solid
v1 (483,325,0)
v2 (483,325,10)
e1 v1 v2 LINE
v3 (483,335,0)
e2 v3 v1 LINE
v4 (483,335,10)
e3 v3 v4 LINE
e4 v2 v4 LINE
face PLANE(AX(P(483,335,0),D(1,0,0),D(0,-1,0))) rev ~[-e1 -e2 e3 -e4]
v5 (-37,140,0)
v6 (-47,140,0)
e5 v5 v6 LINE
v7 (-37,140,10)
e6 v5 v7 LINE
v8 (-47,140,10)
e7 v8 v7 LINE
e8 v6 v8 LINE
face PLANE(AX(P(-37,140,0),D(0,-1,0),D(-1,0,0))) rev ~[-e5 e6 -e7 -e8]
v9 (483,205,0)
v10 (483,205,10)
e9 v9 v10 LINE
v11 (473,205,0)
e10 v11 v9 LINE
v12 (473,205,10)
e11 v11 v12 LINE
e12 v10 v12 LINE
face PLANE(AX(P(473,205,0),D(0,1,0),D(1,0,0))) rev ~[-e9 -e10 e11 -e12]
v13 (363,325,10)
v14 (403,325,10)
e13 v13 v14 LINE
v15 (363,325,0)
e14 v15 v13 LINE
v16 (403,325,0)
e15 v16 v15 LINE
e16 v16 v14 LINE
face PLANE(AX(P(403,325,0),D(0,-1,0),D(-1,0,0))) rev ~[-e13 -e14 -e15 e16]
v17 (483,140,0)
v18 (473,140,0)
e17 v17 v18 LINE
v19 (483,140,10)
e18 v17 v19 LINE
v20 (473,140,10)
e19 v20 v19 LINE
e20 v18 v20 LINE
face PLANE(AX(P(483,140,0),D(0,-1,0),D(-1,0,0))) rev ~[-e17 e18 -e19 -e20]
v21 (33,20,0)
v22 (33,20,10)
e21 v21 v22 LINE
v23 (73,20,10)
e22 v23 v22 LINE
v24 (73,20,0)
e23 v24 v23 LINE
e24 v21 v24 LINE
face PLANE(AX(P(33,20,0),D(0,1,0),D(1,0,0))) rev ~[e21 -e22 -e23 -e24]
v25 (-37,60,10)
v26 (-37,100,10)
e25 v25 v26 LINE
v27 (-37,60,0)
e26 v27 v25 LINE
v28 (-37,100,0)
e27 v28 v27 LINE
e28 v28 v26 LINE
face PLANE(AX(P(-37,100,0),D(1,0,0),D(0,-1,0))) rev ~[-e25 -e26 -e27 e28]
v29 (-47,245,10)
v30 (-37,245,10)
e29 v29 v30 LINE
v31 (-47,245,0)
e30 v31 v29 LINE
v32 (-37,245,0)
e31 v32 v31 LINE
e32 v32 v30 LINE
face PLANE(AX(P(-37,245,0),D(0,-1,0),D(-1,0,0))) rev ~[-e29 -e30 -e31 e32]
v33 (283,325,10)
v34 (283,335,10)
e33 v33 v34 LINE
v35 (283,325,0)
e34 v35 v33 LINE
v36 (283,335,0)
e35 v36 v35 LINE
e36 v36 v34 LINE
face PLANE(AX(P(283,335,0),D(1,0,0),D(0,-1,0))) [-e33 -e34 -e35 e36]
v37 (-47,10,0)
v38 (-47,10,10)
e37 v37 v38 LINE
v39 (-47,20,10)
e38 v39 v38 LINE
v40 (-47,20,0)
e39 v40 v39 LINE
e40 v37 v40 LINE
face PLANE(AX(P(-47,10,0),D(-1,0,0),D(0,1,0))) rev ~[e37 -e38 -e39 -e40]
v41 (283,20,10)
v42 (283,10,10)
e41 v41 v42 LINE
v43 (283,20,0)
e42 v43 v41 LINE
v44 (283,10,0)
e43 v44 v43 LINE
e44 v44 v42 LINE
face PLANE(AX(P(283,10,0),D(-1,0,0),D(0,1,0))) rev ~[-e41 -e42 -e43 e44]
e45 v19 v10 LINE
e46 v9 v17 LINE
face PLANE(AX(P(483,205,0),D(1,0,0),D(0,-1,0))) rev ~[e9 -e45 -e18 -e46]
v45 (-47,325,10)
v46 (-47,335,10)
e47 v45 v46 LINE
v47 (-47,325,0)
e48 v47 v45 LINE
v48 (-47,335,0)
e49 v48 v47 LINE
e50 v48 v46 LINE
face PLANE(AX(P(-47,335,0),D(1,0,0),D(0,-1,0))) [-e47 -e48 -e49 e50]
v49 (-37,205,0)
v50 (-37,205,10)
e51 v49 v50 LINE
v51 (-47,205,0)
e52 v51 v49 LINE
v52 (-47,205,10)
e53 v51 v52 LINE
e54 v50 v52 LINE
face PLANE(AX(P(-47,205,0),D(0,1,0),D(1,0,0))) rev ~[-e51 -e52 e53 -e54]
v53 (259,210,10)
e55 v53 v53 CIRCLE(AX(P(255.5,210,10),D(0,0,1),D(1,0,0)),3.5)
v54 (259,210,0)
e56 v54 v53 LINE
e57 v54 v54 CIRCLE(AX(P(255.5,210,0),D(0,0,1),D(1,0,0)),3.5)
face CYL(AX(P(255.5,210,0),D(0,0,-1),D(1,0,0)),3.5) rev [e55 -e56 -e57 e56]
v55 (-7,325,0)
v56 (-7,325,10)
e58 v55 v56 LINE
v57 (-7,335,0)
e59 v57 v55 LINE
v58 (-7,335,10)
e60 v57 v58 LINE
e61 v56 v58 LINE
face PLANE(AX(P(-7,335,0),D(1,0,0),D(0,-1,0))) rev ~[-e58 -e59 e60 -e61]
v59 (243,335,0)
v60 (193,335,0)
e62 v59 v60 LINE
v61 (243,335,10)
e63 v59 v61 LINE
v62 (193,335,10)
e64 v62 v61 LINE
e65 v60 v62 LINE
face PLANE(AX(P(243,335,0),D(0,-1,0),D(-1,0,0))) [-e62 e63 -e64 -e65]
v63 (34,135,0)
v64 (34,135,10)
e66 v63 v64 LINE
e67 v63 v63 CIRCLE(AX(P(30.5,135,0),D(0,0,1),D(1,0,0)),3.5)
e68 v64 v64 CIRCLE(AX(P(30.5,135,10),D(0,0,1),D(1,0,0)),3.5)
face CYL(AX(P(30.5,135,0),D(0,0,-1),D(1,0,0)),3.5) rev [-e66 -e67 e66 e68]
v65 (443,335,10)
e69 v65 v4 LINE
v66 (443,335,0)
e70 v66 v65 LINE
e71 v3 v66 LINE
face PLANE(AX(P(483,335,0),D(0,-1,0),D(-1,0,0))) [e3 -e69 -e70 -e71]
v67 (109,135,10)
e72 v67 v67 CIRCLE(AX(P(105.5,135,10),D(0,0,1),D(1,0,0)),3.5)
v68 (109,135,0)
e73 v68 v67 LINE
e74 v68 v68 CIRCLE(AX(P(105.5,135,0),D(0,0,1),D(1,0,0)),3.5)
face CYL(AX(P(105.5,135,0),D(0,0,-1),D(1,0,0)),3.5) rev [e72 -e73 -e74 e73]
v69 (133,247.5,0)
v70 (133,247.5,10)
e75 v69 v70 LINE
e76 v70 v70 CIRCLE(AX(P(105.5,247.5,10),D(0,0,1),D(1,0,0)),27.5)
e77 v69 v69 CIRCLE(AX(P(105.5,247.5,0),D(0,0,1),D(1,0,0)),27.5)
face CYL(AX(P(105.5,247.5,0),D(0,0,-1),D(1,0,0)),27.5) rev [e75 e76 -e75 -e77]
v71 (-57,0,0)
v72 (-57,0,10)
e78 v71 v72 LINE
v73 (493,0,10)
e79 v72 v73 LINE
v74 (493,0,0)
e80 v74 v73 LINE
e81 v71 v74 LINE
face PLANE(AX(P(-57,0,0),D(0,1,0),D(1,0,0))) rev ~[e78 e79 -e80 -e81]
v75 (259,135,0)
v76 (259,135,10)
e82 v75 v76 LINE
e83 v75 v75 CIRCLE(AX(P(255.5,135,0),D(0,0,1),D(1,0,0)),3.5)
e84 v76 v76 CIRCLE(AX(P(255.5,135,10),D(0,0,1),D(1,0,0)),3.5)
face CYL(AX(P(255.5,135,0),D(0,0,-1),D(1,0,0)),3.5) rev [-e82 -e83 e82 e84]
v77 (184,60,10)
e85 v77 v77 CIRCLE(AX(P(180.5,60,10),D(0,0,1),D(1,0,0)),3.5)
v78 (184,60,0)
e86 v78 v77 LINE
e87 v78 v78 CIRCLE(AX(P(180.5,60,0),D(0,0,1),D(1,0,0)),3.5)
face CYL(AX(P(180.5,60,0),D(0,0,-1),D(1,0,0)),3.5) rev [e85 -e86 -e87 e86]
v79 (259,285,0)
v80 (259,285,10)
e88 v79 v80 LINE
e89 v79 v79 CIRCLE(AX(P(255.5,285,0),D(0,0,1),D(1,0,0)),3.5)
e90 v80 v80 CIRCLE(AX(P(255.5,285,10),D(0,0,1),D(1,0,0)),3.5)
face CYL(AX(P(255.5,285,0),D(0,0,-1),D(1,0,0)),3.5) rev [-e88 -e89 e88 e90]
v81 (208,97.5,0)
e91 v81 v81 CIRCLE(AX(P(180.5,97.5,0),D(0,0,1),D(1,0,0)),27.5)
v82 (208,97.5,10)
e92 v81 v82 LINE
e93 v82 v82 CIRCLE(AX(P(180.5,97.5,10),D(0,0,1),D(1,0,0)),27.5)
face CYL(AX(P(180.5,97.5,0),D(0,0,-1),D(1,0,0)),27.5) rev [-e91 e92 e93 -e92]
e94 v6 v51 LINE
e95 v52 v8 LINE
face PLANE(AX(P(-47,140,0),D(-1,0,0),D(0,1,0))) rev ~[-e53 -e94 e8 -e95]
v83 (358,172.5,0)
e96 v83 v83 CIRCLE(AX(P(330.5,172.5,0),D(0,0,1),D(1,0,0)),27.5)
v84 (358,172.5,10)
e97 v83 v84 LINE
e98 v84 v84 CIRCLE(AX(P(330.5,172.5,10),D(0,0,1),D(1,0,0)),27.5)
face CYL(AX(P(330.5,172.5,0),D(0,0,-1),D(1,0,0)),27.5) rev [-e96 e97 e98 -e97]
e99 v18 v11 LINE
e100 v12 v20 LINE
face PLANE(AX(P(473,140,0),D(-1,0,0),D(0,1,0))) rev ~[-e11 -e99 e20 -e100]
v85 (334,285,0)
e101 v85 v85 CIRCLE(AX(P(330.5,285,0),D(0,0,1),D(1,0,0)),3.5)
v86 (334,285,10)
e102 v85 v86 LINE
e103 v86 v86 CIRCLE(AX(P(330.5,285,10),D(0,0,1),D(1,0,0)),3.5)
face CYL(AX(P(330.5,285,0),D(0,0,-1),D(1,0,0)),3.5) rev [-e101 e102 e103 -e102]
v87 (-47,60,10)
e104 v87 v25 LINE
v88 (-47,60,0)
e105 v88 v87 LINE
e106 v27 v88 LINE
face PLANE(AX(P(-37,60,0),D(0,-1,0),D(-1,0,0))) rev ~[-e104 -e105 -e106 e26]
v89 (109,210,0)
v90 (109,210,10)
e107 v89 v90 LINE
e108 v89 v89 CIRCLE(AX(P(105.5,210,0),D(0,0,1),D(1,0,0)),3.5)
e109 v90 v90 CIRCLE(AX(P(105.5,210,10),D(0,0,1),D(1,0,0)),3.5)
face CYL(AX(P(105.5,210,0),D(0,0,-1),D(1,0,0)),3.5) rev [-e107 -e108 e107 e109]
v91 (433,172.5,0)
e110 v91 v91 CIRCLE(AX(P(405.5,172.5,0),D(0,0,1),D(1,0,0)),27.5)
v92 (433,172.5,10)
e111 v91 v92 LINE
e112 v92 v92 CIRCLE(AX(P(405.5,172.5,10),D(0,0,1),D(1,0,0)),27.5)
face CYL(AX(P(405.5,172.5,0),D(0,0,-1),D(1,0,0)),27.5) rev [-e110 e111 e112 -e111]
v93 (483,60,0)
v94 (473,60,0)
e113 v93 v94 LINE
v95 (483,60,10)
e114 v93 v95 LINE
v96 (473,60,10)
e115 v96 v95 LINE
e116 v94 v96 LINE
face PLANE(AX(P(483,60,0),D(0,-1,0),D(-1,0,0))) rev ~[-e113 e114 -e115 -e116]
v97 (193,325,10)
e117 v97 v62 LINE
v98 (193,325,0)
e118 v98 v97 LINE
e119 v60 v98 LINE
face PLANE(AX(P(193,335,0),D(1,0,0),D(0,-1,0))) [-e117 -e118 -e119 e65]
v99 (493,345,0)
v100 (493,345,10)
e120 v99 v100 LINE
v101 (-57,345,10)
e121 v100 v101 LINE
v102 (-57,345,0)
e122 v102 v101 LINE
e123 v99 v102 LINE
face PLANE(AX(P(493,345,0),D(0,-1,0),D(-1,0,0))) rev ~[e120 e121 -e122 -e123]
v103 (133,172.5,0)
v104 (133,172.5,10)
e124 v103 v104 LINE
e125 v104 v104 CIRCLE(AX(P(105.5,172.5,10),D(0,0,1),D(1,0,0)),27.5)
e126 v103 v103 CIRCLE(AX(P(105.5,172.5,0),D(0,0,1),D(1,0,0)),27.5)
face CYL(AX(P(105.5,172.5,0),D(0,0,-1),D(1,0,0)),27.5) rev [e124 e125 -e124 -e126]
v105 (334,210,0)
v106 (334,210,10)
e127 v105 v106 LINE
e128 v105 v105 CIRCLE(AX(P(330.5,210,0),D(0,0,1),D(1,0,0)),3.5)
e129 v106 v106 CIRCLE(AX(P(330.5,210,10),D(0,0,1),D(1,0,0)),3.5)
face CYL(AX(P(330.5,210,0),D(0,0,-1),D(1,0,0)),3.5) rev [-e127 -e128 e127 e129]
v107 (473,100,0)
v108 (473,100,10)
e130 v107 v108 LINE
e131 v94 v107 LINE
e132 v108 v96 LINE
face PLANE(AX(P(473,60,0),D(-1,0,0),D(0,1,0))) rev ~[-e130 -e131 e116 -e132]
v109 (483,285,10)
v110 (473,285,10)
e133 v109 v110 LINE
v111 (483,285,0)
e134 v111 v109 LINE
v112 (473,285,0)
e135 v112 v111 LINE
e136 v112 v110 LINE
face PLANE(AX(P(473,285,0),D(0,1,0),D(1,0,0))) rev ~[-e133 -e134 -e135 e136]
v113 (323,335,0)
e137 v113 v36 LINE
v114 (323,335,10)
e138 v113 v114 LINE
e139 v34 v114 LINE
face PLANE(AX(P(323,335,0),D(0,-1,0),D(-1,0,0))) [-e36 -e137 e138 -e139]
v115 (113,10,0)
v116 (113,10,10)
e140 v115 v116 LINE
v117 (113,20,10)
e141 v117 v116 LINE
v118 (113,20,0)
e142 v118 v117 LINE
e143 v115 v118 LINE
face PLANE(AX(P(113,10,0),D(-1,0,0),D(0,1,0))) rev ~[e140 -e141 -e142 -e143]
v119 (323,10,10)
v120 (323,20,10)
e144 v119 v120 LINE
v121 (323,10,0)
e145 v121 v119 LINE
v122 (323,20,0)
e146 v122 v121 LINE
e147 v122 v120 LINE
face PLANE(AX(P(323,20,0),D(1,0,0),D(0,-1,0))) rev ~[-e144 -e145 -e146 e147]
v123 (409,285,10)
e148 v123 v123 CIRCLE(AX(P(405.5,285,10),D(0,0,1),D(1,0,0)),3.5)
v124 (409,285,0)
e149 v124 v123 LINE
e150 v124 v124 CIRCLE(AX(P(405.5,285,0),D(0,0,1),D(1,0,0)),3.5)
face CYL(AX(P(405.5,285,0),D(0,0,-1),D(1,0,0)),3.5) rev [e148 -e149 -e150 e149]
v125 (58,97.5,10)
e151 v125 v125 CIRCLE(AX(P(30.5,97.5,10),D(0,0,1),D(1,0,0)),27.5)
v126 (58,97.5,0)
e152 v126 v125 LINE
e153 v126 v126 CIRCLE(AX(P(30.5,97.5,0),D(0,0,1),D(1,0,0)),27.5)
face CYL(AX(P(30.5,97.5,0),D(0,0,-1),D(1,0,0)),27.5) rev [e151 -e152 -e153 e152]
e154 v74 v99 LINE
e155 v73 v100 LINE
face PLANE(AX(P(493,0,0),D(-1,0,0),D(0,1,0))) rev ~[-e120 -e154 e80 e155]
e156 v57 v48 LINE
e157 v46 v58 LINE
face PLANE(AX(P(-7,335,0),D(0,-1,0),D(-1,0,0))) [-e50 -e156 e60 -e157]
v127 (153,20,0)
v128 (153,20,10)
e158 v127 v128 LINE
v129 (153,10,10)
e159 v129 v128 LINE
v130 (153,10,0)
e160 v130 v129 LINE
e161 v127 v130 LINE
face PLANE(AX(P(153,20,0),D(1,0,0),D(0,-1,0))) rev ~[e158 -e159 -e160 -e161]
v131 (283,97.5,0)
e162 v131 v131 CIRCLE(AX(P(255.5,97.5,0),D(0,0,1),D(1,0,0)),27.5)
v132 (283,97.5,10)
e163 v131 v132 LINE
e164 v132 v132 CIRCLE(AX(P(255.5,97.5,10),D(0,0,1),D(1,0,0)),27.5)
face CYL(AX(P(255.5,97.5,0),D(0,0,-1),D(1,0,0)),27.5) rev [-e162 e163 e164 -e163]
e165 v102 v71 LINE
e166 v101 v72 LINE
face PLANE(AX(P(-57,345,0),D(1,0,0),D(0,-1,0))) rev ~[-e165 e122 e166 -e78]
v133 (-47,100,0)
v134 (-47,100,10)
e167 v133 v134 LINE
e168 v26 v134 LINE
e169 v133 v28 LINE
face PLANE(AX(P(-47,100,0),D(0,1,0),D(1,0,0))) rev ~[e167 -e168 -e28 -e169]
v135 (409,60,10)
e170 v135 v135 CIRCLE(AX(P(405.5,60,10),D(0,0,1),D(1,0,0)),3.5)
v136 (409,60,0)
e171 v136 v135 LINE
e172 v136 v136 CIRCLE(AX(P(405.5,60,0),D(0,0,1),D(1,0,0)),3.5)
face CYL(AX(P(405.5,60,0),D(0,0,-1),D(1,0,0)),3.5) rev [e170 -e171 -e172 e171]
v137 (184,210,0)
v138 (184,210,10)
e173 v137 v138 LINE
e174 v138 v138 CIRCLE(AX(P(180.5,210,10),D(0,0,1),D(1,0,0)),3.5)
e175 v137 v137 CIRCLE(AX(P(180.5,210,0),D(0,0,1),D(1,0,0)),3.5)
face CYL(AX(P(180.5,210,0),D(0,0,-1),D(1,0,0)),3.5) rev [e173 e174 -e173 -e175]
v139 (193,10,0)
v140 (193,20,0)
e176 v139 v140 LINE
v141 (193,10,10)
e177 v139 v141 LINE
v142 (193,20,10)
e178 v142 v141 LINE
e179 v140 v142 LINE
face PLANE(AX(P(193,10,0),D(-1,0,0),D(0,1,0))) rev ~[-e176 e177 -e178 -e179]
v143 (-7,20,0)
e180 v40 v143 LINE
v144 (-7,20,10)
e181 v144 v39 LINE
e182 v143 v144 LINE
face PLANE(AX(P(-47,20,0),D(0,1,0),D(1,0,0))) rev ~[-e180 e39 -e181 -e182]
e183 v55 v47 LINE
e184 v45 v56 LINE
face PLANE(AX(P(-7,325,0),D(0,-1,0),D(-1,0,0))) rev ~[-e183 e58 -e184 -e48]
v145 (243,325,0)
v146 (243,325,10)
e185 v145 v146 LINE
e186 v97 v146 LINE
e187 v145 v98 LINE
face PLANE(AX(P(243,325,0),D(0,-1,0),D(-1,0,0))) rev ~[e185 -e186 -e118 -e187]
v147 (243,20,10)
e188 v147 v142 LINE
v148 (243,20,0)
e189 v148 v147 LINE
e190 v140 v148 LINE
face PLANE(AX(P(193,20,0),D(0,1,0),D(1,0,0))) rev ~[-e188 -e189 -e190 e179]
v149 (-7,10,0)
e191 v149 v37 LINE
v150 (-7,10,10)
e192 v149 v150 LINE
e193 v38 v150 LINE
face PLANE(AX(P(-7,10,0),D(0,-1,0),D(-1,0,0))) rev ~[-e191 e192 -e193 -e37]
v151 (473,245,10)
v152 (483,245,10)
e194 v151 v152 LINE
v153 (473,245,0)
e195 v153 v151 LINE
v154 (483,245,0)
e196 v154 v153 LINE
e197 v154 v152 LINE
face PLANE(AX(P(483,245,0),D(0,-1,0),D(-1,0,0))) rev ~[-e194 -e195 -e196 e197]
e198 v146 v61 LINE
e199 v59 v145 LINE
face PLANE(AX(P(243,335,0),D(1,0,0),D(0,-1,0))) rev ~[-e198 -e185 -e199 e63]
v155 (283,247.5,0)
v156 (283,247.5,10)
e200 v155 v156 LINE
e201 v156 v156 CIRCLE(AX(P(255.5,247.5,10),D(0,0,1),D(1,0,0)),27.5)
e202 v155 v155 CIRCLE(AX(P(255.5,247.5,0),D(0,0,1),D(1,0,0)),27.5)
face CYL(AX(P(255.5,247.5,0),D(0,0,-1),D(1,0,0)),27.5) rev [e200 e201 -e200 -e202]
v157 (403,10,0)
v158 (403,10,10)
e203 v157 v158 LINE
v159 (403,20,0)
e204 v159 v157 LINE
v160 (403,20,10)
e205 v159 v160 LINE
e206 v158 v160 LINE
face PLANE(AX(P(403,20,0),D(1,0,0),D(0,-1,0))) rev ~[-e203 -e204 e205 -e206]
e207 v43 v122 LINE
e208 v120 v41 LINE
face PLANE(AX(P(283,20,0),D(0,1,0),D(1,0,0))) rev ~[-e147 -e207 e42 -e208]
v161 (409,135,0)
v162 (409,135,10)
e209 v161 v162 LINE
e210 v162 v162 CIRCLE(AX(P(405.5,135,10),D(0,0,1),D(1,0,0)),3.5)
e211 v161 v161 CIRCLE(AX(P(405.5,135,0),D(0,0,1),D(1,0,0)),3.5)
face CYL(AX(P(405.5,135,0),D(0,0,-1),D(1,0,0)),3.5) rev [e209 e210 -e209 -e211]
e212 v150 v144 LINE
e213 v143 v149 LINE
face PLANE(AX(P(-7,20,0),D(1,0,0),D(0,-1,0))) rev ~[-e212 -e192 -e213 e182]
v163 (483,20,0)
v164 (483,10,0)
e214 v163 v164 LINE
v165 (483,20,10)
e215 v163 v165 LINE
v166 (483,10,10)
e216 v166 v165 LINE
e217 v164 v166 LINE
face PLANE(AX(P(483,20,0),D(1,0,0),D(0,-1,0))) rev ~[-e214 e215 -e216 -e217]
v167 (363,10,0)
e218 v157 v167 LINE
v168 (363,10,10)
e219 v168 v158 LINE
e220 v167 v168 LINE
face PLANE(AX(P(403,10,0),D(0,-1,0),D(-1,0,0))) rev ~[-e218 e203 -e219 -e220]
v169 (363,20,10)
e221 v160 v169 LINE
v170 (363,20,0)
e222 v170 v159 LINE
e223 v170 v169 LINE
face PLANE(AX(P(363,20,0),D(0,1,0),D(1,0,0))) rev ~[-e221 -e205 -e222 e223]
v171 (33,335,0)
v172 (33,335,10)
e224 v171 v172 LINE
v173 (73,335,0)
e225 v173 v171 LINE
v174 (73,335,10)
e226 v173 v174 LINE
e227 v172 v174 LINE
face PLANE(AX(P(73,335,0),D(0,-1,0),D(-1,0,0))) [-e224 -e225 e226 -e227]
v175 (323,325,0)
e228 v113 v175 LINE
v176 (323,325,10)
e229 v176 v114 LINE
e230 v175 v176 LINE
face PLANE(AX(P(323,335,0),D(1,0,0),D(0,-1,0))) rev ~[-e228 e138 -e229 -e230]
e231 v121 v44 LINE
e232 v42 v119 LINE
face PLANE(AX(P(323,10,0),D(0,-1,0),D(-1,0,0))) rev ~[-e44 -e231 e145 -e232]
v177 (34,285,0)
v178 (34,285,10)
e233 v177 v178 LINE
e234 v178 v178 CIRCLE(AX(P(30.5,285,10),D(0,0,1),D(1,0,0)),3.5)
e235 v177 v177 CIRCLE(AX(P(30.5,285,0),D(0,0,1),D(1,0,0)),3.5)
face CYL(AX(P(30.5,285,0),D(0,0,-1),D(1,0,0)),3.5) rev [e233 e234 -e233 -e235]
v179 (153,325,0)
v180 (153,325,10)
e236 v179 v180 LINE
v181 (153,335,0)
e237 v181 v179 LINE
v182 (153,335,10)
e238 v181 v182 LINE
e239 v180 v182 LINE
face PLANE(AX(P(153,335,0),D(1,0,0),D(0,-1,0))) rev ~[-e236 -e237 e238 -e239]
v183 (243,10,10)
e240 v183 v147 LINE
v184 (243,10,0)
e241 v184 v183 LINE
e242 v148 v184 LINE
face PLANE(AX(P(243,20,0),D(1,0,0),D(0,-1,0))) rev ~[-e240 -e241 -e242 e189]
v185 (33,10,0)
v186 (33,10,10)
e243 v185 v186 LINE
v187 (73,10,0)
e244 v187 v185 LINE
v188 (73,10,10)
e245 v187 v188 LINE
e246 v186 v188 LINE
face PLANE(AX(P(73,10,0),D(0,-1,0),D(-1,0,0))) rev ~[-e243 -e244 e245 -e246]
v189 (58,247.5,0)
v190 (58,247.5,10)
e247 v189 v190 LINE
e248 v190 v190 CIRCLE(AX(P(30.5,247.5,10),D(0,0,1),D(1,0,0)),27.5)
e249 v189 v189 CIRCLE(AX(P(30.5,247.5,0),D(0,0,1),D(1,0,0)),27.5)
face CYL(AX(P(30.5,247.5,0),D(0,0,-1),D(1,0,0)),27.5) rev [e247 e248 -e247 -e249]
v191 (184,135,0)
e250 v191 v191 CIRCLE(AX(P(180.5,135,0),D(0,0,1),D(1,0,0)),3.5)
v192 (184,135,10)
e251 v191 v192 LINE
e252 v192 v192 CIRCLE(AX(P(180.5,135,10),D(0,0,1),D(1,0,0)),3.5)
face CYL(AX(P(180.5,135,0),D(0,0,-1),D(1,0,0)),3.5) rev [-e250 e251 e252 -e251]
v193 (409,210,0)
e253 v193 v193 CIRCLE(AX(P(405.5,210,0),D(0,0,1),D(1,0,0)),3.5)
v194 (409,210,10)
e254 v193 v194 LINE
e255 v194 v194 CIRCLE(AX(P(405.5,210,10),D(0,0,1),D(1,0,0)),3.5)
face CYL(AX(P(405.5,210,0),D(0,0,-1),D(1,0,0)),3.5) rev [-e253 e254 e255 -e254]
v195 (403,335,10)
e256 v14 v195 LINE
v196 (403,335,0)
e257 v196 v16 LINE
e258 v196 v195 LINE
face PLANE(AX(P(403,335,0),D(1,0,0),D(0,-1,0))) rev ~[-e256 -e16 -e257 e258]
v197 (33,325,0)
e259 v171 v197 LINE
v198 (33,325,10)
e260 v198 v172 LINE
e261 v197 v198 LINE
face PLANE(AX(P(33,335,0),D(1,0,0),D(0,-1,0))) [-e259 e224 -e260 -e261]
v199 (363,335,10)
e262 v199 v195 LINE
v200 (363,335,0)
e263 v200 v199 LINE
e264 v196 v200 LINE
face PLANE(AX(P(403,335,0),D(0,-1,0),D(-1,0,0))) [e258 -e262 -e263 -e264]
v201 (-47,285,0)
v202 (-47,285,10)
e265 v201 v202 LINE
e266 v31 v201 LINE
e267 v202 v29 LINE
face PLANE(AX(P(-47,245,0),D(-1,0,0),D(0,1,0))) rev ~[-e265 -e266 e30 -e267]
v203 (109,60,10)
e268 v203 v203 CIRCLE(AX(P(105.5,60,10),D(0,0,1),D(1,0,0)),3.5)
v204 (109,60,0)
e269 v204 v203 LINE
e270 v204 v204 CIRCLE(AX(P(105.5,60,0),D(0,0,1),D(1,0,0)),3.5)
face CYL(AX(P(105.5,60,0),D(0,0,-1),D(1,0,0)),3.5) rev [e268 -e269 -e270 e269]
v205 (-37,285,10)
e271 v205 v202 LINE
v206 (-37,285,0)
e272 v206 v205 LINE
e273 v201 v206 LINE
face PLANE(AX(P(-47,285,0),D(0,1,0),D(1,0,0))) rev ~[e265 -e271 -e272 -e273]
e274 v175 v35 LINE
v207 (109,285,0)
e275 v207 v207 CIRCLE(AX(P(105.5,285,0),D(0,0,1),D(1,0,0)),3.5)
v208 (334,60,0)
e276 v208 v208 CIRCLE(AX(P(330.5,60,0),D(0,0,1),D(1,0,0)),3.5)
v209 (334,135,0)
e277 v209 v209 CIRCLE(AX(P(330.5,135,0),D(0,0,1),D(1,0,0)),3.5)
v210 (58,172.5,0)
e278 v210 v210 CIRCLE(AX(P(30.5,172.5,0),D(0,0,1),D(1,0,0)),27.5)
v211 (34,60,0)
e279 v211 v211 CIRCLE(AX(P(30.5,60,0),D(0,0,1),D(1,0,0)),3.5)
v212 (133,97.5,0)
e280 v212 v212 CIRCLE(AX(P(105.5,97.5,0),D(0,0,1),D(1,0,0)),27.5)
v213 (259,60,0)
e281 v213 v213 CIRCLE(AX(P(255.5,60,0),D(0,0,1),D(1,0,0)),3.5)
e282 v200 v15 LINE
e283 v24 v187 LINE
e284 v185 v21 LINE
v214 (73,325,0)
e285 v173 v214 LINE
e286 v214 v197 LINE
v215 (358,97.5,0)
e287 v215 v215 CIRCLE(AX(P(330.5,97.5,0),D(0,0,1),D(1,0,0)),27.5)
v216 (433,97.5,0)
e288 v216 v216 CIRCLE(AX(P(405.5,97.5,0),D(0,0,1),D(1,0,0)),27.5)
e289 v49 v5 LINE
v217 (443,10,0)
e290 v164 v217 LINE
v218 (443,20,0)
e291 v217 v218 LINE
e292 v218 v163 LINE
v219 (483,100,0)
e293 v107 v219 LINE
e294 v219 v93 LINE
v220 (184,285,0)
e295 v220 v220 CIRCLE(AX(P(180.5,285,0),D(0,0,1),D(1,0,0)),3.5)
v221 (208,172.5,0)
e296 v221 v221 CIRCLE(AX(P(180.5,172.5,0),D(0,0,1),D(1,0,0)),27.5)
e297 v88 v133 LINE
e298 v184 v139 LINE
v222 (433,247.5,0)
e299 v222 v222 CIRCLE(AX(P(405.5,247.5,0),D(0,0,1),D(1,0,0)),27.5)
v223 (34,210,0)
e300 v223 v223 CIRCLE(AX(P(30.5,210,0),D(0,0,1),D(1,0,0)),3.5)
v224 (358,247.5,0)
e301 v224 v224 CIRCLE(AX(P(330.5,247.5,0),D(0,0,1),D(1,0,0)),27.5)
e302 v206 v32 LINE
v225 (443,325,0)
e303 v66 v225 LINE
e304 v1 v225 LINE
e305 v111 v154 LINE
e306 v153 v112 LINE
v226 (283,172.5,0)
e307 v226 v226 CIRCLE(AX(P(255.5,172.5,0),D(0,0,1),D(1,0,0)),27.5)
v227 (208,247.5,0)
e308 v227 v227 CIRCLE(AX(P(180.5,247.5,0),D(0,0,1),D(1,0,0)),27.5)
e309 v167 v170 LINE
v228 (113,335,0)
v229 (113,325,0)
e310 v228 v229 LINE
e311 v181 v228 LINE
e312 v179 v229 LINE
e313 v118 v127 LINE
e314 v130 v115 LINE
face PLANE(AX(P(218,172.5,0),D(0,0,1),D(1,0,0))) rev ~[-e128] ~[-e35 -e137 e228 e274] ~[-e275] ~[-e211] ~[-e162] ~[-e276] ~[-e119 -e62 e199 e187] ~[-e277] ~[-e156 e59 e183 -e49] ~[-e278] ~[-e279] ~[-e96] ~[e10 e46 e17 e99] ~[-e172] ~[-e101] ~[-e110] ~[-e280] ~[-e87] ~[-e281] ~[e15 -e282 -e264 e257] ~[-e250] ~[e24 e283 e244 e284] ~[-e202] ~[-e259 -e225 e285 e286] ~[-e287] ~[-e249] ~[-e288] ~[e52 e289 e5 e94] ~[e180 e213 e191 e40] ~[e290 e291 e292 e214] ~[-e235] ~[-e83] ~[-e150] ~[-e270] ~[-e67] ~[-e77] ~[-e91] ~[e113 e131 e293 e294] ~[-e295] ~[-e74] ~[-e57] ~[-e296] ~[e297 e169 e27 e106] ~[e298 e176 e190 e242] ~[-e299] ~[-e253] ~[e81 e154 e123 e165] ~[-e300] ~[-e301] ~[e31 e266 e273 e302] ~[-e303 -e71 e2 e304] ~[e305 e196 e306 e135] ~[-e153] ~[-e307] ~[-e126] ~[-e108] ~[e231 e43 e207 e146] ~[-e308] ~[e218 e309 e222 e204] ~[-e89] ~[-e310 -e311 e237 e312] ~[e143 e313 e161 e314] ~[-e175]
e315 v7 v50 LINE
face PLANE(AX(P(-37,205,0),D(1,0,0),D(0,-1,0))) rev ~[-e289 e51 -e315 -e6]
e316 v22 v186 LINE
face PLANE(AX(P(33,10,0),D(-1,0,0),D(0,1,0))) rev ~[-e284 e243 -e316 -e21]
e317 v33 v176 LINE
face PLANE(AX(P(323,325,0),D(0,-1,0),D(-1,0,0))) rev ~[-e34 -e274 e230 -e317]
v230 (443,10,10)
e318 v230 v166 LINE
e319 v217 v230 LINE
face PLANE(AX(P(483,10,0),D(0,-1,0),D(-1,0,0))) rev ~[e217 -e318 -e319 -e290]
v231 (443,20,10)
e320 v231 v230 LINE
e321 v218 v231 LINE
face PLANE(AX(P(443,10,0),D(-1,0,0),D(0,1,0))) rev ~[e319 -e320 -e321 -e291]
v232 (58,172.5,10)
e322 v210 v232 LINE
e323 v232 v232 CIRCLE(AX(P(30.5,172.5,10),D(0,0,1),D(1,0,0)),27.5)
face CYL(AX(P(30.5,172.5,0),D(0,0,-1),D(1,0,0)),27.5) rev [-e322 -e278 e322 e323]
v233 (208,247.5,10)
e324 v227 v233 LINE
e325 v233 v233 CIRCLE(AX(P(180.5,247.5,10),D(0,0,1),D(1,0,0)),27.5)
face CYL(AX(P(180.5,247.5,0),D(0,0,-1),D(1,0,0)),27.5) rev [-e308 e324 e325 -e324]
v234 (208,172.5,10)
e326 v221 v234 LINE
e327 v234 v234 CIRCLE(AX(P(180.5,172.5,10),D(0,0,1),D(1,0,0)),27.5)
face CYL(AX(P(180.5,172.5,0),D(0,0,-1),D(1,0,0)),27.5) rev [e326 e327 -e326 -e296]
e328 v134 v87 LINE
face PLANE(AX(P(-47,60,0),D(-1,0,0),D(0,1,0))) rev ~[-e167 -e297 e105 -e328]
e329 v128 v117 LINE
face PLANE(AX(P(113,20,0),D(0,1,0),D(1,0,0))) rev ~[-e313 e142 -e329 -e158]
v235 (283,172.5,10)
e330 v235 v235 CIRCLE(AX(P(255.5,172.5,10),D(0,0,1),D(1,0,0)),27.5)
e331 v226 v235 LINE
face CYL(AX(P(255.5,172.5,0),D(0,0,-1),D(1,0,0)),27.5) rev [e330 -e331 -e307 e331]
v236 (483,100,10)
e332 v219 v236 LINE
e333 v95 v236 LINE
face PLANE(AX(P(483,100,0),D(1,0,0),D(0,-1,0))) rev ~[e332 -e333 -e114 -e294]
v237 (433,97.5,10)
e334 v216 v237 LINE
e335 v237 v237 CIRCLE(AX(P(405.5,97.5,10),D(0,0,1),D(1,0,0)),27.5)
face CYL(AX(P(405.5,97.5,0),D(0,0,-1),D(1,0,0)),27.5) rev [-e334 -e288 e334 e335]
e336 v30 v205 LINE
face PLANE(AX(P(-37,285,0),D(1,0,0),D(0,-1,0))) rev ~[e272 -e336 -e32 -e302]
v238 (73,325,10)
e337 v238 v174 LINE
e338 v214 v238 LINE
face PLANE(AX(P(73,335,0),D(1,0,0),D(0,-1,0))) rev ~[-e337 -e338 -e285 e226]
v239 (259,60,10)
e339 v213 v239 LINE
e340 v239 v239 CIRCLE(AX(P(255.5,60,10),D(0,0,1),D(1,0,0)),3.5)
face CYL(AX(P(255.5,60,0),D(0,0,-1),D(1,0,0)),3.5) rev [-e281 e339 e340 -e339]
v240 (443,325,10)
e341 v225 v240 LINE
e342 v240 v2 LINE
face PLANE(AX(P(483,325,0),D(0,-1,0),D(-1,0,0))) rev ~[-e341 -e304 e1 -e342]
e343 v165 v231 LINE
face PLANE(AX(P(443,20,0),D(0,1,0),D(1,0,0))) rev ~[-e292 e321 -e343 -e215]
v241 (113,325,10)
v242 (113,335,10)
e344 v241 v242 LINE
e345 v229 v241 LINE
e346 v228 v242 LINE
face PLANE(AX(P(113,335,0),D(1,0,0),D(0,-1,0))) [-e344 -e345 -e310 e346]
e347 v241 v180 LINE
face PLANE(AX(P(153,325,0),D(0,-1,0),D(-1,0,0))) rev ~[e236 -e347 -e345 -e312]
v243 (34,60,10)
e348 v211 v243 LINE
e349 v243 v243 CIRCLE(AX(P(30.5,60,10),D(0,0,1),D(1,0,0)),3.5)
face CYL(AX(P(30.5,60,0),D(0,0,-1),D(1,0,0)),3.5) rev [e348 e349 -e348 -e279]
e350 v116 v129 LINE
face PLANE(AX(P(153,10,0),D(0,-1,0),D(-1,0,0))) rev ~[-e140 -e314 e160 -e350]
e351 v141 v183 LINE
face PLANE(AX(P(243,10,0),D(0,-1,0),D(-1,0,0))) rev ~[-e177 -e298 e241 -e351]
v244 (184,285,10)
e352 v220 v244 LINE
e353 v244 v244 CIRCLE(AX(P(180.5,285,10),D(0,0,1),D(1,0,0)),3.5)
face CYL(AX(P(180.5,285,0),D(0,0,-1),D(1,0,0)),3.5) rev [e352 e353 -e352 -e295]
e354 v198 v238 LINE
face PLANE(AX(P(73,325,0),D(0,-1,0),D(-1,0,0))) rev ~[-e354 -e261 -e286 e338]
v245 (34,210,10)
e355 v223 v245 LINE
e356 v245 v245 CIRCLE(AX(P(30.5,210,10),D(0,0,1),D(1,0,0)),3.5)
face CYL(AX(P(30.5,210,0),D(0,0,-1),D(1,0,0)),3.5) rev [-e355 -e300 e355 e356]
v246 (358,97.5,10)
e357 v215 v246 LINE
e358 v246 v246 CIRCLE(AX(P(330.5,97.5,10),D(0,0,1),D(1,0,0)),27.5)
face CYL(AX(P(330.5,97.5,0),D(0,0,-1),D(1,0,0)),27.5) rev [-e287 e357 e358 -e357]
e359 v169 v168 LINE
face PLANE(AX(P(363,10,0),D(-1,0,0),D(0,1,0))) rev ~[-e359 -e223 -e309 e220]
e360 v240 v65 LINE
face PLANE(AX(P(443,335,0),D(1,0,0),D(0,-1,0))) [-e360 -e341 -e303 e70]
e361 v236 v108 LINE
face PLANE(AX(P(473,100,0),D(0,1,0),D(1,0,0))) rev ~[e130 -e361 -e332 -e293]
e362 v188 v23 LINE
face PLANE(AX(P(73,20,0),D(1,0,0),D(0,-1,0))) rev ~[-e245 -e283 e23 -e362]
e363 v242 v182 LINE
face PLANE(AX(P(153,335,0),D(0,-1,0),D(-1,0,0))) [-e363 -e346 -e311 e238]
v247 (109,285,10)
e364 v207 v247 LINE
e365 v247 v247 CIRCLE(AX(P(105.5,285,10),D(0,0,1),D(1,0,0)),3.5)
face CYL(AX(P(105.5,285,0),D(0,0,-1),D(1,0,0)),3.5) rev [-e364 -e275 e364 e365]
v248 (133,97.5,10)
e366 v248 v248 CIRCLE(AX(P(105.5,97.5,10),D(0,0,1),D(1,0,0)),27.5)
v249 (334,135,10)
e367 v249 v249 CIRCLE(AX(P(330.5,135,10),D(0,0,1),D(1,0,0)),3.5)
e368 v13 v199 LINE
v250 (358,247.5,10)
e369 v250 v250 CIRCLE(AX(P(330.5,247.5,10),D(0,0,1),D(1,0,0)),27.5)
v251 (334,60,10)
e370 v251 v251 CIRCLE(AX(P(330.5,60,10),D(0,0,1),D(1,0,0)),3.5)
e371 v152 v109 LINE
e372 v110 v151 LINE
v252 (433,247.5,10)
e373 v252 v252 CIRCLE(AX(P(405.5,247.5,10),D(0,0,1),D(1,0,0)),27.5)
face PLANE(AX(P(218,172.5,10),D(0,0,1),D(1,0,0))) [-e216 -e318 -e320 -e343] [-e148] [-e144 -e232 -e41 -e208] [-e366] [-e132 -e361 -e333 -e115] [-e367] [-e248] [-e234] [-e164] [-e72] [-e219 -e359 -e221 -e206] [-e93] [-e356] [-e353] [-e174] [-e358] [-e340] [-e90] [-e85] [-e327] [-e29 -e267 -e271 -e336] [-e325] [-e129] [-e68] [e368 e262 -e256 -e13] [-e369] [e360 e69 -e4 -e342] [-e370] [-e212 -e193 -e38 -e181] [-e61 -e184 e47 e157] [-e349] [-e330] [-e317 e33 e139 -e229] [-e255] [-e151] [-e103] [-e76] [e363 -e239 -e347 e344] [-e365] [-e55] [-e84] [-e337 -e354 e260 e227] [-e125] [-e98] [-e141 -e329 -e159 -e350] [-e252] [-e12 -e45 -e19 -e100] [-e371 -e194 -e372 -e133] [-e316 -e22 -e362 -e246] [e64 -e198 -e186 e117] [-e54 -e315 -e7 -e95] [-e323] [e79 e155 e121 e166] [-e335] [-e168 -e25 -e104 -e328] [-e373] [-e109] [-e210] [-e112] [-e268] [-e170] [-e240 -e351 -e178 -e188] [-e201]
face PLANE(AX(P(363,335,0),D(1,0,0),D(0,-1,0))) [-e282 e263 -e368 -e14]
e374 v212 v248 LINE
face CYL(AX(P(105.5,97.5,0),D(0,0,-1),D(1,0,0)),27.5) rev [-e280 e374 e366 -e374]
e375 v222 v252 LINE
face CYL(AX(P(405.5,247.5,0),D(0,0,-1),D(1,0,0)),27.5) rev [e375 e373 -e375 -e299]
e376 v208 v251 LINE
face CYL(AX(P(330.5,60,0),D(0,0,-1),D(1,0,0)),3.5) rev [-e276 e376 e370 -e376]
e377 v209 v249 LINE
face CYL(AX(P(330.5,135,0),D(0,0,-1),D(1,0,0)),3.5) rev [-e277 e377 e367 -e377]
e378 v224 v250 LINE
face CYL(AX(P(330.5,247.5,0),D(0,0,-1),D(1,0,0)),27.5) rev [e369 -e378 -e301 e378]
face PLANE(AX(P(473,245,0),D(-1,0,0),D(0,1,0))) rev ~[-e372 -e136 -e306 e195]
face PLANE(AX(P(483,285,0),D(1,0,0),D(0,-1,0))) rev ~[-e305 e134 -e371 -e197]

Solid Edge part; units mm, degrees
sketch "Sketch1" plane through (0, 0, 0) normal (0, 0, 1) x (1, 0, 0)
  line L0 (-57, 0) -> (493, 0)
  line L1 (493, 0) -> (493, 345)
  line L2 (493, 345) -> (-57, 345)
  line L3 (-57, 345) -> (-57, 0)
  circle A0 centre (30.5, 247.5) radius 27.5
  circle A1 centre (30.5, 172.5) radius 27.5
  circle A2 centre (30.5, 97.5) radius 27.5
  circle A3 centre (405.5, 247.5) radius 27.5
  circle A4 centre (405.5, 172.5) radius 27.5
  circle A5 centre (405.5, 97.5) radius 27.5
  circle A6 centre (330.5, 97.5) radius 27.5
  circle A7 centre (330.5, 247.5) radius 27.5
  circle A8 centre (255.5, 247.5) radius 27.5
  circle A9 centre (255.5, 97.5) radius 27.5
  circle A10 centre (180.5, 247.5) radius 27.5
  circle A11 centre (180.5, 97.5) radius 27.5
  circle A12 centre (105.5, 97.5) radius 27.5
  circle A13 centre (105.5, 247.5) radius 27.5
  circle A14 centre (105.5, 172.5) radius 27.5
  circle A15 centre (180.5, 172.5) radius 27.5
  circle A16 centre (255.5, 172.5) radius 27.5
  circle A17 centre (330.5, 172.5) radius 27.5
  circle A18 centre (30.5, 210) radius 3.5
  circle A19 centre (30.5, 135) radius 3.5
  circle A20 centre (105.5, 135) radius 3.5
  circle A21 centre (105.5, 210) radius 3.5
  circle A22 centre (180.5, 210) radius 3.5
  circle A23 centre (255.5, 210) radius 3.5
  circle A24 centre (180.5, 135) radius 3.5
  circle A25 centre (255.5, 135) radius 3.5
  circle A26 centre (330.5, 210) radius 3.5
  circle A27 centre (330.5, 135) radius 3.5
  circle A28 centre (30.5, 285) radius 3.5
  circle A29 centre (405.5, 210) radius 3.5
  circle A30 centre (405.5, 135) radius 3.5
  circle A31 centre (105.5, 285) radius 3.5
  circle A32 centre (180.5, 285) radius 3.5
  circle A33 centre (255.5, 285) radius 3.5
  circle A34 centre (330.5, 285) radius 3.5
  circle A35 centre (405.5, 285) radius 3.5
  circle A36 centre (30.5, 60) radius 3.5
  circle A37 centre (105.5, 60) radius 3.5
  circle A38 centre (180.5, 60) radius 3.5
  circle A39 centre (255.5, 60) radius 3.5
  circle A40 centre (330.5, 60) radius 3.5
  circle A41 centre (405.5, 60) radius 3.5
extrude "Protrusion1" add sketch "Sketch1" along normal blind 10
sketch "Sketch2" plane through (218, 172.5, 0) normal (0, 0, -1) x (-1, 0, 0)
  line L0 (-265, -162.5) -> (-225, -162.5)
  line L1 (-225, -162.5) -> (-225, -152.5)
  line L2 (-225, -152.5) -> (-265, -152.5)
  line L3 (-265, -152.5) -> (-265, -162.5)
  line L4 (-185, -162.5) -> (-145, -162.5)
  line L5 (-145, -162.5) -> (-145, -152.5)
  line L6 (-145, -152.5) -> (-185, -152.5)
  line L7 (-185, -152.5) -> (-185, -162.5)
  line L8 (-105, -162.5) -> (-65, -162.5)
  line L9 (-65, -162.5) -> (-65, -152.5)
  line L10 (-65, -152.5) -> (-105, -152.5)
  line L11 (-105, -152.5) -> (-105, -162.5)
  line L12 (-25, -162.5) -> (25, -162.5)
  line L13 (25, -162.5) -> (25, -152.5)
  line L14 (25, -152.5) -> (-25, -152.5)
  line L15 (-25, -152.5) -> (-25, -162.5)
  line L16 (65, -162.5) -> (105, -162.5)
  line L17 (105, -162.5) -> (105, -152.5)
  line L18 (105, -152.5) -> (65, -152.5)
  line L19 (65, -152.5) -> (65, -162.5)
  line L20 (145, -162.5) -> (185, -162.5)
  line L21 (185, -162.5) -> (185, -152.5)
  line L22 (185, -152.5) -> (145, -152.5)
  line L23 (145, -152.5) -> (145, -162.5)
  line L24 (225, -162.5) -> (265, -162.5)
  line L25 (265, -162.5) -> (265, -152.5)
  line L26 (265, -152.5) -> (225, -152.5)
  line L27 (225, -152.5) -> (225, -162.5)
  line L28 (-265, 112.5) -> (-265, 72.5)
  line L29 (-265, 72.5) -> (-255, 72.5)
  line L30 (-255, 72.5) -> (-255, 112.5)
  line L31 (-255, 112.5) -> (-265, 112.5)
  line L32 (-265, -112.5) -> (-255, -112.5)
  line L33 (-255, -112.5) -> (-255, -72.5)
  line L34 (-255, -72.5) -> (-265, -72.5)
  line L35 (-265, -72.5) -> (-265, -112.5)
  line L36 (-265, 32.5) -> (-265, -32.5)
  line L37 (-265, -32.5) -> (-255, -32.5)
  line L38 (-255, -32.5) -> (-255, 32.5)
  line L39 (-255, 32.5) -> (-265, 32.5)
  line L40 (265, 112.5) -> (255, 112.5)
  line L41 (255, 112.5) -> (255, 72.5)
  line L42 (255, 72.5) -> (265, 72.5)
  line L43 (265, 72.5) -> (265, 112.5)
  line L44 (265, 32.5) -> (255, 32.5)
  line L45 (255, 32.5) -> (255, -32.5)
  line L46 (255, -32.5) -> (265, -32.5)
  line L47 (265, -32.5) -> (265, 32.5)
  line L48 (265, -72.5) -> (255, -72.5)
  line L49 (255, -72.5) -> (255, -112.5)
  line L50 (255, -112.5) -> (265, -112.5)
  line L51 (265, -112.5) -> (265, -72.5)
  line L52 (-265, 162.5) -> (-265, 152.5)
  line L53 (-265, 152.5) -> (-225, 152.5)
  line L54 (-225, 162.5) -> (-225, 152.5)
  line L55 (-265, 162.5) -> (-225, 162.5)
  line L56 (-185, 162.5) -> (-145, 162.5)
  line L57 (-145, 162.5) -> (-145, 152.5)
  line L58 (-185, 152.5) -> (-145, 152.5)
  line L59 (-185, 162.5) -> (-185, 152.5)
  line L60 (-105, 162.5) -> (-105, 152.5)
  line L61 (-105, 152.5) -> (-65, 152.5)
  line L62 (-65, 162.5) -> (-65, 152.5)
  line L63 (-105, 162.5) -> (-65, 162.5)
  line L64 (-25, 162.5) -> (-25, 152.5)
  line L65 (-25, 152.5) -> (25, 152.5)
  line L66 (25, 162.5) -> (25, 152.5)
  line L67 (-25, 162.5) -> (25, 162.5)
  line L68 (65, 162.5) -> (65, 152.5)
  line L69 (65, 152.5) -> (105, 152.5)
  line L70 (105, 162.5) -> (105, 152.5)
  line L71 (65, 162.5) -> (105, 162.5)
  line L72 (145, 162.5) -> (145, 152.5)
  line L73 (145, 152.5) -> (185, 152.5)
  line L74 (185, 162.5) -> (185, 152.5)
  line L75 (145, 162.5) -> (185, 162.5)
  line L76 (225, 162.5) -> (225, 152.5)
  line L77 (225, 152.5) -> (265, 152.5)
  line L78 (265, 162.5) -> (265, 152.5)
  line L79 (225, 162.5) -> (265, 162.5)
extrude "VaciadoExtruido_1" cut sketch "Sketch2" against normal blind 82.55
